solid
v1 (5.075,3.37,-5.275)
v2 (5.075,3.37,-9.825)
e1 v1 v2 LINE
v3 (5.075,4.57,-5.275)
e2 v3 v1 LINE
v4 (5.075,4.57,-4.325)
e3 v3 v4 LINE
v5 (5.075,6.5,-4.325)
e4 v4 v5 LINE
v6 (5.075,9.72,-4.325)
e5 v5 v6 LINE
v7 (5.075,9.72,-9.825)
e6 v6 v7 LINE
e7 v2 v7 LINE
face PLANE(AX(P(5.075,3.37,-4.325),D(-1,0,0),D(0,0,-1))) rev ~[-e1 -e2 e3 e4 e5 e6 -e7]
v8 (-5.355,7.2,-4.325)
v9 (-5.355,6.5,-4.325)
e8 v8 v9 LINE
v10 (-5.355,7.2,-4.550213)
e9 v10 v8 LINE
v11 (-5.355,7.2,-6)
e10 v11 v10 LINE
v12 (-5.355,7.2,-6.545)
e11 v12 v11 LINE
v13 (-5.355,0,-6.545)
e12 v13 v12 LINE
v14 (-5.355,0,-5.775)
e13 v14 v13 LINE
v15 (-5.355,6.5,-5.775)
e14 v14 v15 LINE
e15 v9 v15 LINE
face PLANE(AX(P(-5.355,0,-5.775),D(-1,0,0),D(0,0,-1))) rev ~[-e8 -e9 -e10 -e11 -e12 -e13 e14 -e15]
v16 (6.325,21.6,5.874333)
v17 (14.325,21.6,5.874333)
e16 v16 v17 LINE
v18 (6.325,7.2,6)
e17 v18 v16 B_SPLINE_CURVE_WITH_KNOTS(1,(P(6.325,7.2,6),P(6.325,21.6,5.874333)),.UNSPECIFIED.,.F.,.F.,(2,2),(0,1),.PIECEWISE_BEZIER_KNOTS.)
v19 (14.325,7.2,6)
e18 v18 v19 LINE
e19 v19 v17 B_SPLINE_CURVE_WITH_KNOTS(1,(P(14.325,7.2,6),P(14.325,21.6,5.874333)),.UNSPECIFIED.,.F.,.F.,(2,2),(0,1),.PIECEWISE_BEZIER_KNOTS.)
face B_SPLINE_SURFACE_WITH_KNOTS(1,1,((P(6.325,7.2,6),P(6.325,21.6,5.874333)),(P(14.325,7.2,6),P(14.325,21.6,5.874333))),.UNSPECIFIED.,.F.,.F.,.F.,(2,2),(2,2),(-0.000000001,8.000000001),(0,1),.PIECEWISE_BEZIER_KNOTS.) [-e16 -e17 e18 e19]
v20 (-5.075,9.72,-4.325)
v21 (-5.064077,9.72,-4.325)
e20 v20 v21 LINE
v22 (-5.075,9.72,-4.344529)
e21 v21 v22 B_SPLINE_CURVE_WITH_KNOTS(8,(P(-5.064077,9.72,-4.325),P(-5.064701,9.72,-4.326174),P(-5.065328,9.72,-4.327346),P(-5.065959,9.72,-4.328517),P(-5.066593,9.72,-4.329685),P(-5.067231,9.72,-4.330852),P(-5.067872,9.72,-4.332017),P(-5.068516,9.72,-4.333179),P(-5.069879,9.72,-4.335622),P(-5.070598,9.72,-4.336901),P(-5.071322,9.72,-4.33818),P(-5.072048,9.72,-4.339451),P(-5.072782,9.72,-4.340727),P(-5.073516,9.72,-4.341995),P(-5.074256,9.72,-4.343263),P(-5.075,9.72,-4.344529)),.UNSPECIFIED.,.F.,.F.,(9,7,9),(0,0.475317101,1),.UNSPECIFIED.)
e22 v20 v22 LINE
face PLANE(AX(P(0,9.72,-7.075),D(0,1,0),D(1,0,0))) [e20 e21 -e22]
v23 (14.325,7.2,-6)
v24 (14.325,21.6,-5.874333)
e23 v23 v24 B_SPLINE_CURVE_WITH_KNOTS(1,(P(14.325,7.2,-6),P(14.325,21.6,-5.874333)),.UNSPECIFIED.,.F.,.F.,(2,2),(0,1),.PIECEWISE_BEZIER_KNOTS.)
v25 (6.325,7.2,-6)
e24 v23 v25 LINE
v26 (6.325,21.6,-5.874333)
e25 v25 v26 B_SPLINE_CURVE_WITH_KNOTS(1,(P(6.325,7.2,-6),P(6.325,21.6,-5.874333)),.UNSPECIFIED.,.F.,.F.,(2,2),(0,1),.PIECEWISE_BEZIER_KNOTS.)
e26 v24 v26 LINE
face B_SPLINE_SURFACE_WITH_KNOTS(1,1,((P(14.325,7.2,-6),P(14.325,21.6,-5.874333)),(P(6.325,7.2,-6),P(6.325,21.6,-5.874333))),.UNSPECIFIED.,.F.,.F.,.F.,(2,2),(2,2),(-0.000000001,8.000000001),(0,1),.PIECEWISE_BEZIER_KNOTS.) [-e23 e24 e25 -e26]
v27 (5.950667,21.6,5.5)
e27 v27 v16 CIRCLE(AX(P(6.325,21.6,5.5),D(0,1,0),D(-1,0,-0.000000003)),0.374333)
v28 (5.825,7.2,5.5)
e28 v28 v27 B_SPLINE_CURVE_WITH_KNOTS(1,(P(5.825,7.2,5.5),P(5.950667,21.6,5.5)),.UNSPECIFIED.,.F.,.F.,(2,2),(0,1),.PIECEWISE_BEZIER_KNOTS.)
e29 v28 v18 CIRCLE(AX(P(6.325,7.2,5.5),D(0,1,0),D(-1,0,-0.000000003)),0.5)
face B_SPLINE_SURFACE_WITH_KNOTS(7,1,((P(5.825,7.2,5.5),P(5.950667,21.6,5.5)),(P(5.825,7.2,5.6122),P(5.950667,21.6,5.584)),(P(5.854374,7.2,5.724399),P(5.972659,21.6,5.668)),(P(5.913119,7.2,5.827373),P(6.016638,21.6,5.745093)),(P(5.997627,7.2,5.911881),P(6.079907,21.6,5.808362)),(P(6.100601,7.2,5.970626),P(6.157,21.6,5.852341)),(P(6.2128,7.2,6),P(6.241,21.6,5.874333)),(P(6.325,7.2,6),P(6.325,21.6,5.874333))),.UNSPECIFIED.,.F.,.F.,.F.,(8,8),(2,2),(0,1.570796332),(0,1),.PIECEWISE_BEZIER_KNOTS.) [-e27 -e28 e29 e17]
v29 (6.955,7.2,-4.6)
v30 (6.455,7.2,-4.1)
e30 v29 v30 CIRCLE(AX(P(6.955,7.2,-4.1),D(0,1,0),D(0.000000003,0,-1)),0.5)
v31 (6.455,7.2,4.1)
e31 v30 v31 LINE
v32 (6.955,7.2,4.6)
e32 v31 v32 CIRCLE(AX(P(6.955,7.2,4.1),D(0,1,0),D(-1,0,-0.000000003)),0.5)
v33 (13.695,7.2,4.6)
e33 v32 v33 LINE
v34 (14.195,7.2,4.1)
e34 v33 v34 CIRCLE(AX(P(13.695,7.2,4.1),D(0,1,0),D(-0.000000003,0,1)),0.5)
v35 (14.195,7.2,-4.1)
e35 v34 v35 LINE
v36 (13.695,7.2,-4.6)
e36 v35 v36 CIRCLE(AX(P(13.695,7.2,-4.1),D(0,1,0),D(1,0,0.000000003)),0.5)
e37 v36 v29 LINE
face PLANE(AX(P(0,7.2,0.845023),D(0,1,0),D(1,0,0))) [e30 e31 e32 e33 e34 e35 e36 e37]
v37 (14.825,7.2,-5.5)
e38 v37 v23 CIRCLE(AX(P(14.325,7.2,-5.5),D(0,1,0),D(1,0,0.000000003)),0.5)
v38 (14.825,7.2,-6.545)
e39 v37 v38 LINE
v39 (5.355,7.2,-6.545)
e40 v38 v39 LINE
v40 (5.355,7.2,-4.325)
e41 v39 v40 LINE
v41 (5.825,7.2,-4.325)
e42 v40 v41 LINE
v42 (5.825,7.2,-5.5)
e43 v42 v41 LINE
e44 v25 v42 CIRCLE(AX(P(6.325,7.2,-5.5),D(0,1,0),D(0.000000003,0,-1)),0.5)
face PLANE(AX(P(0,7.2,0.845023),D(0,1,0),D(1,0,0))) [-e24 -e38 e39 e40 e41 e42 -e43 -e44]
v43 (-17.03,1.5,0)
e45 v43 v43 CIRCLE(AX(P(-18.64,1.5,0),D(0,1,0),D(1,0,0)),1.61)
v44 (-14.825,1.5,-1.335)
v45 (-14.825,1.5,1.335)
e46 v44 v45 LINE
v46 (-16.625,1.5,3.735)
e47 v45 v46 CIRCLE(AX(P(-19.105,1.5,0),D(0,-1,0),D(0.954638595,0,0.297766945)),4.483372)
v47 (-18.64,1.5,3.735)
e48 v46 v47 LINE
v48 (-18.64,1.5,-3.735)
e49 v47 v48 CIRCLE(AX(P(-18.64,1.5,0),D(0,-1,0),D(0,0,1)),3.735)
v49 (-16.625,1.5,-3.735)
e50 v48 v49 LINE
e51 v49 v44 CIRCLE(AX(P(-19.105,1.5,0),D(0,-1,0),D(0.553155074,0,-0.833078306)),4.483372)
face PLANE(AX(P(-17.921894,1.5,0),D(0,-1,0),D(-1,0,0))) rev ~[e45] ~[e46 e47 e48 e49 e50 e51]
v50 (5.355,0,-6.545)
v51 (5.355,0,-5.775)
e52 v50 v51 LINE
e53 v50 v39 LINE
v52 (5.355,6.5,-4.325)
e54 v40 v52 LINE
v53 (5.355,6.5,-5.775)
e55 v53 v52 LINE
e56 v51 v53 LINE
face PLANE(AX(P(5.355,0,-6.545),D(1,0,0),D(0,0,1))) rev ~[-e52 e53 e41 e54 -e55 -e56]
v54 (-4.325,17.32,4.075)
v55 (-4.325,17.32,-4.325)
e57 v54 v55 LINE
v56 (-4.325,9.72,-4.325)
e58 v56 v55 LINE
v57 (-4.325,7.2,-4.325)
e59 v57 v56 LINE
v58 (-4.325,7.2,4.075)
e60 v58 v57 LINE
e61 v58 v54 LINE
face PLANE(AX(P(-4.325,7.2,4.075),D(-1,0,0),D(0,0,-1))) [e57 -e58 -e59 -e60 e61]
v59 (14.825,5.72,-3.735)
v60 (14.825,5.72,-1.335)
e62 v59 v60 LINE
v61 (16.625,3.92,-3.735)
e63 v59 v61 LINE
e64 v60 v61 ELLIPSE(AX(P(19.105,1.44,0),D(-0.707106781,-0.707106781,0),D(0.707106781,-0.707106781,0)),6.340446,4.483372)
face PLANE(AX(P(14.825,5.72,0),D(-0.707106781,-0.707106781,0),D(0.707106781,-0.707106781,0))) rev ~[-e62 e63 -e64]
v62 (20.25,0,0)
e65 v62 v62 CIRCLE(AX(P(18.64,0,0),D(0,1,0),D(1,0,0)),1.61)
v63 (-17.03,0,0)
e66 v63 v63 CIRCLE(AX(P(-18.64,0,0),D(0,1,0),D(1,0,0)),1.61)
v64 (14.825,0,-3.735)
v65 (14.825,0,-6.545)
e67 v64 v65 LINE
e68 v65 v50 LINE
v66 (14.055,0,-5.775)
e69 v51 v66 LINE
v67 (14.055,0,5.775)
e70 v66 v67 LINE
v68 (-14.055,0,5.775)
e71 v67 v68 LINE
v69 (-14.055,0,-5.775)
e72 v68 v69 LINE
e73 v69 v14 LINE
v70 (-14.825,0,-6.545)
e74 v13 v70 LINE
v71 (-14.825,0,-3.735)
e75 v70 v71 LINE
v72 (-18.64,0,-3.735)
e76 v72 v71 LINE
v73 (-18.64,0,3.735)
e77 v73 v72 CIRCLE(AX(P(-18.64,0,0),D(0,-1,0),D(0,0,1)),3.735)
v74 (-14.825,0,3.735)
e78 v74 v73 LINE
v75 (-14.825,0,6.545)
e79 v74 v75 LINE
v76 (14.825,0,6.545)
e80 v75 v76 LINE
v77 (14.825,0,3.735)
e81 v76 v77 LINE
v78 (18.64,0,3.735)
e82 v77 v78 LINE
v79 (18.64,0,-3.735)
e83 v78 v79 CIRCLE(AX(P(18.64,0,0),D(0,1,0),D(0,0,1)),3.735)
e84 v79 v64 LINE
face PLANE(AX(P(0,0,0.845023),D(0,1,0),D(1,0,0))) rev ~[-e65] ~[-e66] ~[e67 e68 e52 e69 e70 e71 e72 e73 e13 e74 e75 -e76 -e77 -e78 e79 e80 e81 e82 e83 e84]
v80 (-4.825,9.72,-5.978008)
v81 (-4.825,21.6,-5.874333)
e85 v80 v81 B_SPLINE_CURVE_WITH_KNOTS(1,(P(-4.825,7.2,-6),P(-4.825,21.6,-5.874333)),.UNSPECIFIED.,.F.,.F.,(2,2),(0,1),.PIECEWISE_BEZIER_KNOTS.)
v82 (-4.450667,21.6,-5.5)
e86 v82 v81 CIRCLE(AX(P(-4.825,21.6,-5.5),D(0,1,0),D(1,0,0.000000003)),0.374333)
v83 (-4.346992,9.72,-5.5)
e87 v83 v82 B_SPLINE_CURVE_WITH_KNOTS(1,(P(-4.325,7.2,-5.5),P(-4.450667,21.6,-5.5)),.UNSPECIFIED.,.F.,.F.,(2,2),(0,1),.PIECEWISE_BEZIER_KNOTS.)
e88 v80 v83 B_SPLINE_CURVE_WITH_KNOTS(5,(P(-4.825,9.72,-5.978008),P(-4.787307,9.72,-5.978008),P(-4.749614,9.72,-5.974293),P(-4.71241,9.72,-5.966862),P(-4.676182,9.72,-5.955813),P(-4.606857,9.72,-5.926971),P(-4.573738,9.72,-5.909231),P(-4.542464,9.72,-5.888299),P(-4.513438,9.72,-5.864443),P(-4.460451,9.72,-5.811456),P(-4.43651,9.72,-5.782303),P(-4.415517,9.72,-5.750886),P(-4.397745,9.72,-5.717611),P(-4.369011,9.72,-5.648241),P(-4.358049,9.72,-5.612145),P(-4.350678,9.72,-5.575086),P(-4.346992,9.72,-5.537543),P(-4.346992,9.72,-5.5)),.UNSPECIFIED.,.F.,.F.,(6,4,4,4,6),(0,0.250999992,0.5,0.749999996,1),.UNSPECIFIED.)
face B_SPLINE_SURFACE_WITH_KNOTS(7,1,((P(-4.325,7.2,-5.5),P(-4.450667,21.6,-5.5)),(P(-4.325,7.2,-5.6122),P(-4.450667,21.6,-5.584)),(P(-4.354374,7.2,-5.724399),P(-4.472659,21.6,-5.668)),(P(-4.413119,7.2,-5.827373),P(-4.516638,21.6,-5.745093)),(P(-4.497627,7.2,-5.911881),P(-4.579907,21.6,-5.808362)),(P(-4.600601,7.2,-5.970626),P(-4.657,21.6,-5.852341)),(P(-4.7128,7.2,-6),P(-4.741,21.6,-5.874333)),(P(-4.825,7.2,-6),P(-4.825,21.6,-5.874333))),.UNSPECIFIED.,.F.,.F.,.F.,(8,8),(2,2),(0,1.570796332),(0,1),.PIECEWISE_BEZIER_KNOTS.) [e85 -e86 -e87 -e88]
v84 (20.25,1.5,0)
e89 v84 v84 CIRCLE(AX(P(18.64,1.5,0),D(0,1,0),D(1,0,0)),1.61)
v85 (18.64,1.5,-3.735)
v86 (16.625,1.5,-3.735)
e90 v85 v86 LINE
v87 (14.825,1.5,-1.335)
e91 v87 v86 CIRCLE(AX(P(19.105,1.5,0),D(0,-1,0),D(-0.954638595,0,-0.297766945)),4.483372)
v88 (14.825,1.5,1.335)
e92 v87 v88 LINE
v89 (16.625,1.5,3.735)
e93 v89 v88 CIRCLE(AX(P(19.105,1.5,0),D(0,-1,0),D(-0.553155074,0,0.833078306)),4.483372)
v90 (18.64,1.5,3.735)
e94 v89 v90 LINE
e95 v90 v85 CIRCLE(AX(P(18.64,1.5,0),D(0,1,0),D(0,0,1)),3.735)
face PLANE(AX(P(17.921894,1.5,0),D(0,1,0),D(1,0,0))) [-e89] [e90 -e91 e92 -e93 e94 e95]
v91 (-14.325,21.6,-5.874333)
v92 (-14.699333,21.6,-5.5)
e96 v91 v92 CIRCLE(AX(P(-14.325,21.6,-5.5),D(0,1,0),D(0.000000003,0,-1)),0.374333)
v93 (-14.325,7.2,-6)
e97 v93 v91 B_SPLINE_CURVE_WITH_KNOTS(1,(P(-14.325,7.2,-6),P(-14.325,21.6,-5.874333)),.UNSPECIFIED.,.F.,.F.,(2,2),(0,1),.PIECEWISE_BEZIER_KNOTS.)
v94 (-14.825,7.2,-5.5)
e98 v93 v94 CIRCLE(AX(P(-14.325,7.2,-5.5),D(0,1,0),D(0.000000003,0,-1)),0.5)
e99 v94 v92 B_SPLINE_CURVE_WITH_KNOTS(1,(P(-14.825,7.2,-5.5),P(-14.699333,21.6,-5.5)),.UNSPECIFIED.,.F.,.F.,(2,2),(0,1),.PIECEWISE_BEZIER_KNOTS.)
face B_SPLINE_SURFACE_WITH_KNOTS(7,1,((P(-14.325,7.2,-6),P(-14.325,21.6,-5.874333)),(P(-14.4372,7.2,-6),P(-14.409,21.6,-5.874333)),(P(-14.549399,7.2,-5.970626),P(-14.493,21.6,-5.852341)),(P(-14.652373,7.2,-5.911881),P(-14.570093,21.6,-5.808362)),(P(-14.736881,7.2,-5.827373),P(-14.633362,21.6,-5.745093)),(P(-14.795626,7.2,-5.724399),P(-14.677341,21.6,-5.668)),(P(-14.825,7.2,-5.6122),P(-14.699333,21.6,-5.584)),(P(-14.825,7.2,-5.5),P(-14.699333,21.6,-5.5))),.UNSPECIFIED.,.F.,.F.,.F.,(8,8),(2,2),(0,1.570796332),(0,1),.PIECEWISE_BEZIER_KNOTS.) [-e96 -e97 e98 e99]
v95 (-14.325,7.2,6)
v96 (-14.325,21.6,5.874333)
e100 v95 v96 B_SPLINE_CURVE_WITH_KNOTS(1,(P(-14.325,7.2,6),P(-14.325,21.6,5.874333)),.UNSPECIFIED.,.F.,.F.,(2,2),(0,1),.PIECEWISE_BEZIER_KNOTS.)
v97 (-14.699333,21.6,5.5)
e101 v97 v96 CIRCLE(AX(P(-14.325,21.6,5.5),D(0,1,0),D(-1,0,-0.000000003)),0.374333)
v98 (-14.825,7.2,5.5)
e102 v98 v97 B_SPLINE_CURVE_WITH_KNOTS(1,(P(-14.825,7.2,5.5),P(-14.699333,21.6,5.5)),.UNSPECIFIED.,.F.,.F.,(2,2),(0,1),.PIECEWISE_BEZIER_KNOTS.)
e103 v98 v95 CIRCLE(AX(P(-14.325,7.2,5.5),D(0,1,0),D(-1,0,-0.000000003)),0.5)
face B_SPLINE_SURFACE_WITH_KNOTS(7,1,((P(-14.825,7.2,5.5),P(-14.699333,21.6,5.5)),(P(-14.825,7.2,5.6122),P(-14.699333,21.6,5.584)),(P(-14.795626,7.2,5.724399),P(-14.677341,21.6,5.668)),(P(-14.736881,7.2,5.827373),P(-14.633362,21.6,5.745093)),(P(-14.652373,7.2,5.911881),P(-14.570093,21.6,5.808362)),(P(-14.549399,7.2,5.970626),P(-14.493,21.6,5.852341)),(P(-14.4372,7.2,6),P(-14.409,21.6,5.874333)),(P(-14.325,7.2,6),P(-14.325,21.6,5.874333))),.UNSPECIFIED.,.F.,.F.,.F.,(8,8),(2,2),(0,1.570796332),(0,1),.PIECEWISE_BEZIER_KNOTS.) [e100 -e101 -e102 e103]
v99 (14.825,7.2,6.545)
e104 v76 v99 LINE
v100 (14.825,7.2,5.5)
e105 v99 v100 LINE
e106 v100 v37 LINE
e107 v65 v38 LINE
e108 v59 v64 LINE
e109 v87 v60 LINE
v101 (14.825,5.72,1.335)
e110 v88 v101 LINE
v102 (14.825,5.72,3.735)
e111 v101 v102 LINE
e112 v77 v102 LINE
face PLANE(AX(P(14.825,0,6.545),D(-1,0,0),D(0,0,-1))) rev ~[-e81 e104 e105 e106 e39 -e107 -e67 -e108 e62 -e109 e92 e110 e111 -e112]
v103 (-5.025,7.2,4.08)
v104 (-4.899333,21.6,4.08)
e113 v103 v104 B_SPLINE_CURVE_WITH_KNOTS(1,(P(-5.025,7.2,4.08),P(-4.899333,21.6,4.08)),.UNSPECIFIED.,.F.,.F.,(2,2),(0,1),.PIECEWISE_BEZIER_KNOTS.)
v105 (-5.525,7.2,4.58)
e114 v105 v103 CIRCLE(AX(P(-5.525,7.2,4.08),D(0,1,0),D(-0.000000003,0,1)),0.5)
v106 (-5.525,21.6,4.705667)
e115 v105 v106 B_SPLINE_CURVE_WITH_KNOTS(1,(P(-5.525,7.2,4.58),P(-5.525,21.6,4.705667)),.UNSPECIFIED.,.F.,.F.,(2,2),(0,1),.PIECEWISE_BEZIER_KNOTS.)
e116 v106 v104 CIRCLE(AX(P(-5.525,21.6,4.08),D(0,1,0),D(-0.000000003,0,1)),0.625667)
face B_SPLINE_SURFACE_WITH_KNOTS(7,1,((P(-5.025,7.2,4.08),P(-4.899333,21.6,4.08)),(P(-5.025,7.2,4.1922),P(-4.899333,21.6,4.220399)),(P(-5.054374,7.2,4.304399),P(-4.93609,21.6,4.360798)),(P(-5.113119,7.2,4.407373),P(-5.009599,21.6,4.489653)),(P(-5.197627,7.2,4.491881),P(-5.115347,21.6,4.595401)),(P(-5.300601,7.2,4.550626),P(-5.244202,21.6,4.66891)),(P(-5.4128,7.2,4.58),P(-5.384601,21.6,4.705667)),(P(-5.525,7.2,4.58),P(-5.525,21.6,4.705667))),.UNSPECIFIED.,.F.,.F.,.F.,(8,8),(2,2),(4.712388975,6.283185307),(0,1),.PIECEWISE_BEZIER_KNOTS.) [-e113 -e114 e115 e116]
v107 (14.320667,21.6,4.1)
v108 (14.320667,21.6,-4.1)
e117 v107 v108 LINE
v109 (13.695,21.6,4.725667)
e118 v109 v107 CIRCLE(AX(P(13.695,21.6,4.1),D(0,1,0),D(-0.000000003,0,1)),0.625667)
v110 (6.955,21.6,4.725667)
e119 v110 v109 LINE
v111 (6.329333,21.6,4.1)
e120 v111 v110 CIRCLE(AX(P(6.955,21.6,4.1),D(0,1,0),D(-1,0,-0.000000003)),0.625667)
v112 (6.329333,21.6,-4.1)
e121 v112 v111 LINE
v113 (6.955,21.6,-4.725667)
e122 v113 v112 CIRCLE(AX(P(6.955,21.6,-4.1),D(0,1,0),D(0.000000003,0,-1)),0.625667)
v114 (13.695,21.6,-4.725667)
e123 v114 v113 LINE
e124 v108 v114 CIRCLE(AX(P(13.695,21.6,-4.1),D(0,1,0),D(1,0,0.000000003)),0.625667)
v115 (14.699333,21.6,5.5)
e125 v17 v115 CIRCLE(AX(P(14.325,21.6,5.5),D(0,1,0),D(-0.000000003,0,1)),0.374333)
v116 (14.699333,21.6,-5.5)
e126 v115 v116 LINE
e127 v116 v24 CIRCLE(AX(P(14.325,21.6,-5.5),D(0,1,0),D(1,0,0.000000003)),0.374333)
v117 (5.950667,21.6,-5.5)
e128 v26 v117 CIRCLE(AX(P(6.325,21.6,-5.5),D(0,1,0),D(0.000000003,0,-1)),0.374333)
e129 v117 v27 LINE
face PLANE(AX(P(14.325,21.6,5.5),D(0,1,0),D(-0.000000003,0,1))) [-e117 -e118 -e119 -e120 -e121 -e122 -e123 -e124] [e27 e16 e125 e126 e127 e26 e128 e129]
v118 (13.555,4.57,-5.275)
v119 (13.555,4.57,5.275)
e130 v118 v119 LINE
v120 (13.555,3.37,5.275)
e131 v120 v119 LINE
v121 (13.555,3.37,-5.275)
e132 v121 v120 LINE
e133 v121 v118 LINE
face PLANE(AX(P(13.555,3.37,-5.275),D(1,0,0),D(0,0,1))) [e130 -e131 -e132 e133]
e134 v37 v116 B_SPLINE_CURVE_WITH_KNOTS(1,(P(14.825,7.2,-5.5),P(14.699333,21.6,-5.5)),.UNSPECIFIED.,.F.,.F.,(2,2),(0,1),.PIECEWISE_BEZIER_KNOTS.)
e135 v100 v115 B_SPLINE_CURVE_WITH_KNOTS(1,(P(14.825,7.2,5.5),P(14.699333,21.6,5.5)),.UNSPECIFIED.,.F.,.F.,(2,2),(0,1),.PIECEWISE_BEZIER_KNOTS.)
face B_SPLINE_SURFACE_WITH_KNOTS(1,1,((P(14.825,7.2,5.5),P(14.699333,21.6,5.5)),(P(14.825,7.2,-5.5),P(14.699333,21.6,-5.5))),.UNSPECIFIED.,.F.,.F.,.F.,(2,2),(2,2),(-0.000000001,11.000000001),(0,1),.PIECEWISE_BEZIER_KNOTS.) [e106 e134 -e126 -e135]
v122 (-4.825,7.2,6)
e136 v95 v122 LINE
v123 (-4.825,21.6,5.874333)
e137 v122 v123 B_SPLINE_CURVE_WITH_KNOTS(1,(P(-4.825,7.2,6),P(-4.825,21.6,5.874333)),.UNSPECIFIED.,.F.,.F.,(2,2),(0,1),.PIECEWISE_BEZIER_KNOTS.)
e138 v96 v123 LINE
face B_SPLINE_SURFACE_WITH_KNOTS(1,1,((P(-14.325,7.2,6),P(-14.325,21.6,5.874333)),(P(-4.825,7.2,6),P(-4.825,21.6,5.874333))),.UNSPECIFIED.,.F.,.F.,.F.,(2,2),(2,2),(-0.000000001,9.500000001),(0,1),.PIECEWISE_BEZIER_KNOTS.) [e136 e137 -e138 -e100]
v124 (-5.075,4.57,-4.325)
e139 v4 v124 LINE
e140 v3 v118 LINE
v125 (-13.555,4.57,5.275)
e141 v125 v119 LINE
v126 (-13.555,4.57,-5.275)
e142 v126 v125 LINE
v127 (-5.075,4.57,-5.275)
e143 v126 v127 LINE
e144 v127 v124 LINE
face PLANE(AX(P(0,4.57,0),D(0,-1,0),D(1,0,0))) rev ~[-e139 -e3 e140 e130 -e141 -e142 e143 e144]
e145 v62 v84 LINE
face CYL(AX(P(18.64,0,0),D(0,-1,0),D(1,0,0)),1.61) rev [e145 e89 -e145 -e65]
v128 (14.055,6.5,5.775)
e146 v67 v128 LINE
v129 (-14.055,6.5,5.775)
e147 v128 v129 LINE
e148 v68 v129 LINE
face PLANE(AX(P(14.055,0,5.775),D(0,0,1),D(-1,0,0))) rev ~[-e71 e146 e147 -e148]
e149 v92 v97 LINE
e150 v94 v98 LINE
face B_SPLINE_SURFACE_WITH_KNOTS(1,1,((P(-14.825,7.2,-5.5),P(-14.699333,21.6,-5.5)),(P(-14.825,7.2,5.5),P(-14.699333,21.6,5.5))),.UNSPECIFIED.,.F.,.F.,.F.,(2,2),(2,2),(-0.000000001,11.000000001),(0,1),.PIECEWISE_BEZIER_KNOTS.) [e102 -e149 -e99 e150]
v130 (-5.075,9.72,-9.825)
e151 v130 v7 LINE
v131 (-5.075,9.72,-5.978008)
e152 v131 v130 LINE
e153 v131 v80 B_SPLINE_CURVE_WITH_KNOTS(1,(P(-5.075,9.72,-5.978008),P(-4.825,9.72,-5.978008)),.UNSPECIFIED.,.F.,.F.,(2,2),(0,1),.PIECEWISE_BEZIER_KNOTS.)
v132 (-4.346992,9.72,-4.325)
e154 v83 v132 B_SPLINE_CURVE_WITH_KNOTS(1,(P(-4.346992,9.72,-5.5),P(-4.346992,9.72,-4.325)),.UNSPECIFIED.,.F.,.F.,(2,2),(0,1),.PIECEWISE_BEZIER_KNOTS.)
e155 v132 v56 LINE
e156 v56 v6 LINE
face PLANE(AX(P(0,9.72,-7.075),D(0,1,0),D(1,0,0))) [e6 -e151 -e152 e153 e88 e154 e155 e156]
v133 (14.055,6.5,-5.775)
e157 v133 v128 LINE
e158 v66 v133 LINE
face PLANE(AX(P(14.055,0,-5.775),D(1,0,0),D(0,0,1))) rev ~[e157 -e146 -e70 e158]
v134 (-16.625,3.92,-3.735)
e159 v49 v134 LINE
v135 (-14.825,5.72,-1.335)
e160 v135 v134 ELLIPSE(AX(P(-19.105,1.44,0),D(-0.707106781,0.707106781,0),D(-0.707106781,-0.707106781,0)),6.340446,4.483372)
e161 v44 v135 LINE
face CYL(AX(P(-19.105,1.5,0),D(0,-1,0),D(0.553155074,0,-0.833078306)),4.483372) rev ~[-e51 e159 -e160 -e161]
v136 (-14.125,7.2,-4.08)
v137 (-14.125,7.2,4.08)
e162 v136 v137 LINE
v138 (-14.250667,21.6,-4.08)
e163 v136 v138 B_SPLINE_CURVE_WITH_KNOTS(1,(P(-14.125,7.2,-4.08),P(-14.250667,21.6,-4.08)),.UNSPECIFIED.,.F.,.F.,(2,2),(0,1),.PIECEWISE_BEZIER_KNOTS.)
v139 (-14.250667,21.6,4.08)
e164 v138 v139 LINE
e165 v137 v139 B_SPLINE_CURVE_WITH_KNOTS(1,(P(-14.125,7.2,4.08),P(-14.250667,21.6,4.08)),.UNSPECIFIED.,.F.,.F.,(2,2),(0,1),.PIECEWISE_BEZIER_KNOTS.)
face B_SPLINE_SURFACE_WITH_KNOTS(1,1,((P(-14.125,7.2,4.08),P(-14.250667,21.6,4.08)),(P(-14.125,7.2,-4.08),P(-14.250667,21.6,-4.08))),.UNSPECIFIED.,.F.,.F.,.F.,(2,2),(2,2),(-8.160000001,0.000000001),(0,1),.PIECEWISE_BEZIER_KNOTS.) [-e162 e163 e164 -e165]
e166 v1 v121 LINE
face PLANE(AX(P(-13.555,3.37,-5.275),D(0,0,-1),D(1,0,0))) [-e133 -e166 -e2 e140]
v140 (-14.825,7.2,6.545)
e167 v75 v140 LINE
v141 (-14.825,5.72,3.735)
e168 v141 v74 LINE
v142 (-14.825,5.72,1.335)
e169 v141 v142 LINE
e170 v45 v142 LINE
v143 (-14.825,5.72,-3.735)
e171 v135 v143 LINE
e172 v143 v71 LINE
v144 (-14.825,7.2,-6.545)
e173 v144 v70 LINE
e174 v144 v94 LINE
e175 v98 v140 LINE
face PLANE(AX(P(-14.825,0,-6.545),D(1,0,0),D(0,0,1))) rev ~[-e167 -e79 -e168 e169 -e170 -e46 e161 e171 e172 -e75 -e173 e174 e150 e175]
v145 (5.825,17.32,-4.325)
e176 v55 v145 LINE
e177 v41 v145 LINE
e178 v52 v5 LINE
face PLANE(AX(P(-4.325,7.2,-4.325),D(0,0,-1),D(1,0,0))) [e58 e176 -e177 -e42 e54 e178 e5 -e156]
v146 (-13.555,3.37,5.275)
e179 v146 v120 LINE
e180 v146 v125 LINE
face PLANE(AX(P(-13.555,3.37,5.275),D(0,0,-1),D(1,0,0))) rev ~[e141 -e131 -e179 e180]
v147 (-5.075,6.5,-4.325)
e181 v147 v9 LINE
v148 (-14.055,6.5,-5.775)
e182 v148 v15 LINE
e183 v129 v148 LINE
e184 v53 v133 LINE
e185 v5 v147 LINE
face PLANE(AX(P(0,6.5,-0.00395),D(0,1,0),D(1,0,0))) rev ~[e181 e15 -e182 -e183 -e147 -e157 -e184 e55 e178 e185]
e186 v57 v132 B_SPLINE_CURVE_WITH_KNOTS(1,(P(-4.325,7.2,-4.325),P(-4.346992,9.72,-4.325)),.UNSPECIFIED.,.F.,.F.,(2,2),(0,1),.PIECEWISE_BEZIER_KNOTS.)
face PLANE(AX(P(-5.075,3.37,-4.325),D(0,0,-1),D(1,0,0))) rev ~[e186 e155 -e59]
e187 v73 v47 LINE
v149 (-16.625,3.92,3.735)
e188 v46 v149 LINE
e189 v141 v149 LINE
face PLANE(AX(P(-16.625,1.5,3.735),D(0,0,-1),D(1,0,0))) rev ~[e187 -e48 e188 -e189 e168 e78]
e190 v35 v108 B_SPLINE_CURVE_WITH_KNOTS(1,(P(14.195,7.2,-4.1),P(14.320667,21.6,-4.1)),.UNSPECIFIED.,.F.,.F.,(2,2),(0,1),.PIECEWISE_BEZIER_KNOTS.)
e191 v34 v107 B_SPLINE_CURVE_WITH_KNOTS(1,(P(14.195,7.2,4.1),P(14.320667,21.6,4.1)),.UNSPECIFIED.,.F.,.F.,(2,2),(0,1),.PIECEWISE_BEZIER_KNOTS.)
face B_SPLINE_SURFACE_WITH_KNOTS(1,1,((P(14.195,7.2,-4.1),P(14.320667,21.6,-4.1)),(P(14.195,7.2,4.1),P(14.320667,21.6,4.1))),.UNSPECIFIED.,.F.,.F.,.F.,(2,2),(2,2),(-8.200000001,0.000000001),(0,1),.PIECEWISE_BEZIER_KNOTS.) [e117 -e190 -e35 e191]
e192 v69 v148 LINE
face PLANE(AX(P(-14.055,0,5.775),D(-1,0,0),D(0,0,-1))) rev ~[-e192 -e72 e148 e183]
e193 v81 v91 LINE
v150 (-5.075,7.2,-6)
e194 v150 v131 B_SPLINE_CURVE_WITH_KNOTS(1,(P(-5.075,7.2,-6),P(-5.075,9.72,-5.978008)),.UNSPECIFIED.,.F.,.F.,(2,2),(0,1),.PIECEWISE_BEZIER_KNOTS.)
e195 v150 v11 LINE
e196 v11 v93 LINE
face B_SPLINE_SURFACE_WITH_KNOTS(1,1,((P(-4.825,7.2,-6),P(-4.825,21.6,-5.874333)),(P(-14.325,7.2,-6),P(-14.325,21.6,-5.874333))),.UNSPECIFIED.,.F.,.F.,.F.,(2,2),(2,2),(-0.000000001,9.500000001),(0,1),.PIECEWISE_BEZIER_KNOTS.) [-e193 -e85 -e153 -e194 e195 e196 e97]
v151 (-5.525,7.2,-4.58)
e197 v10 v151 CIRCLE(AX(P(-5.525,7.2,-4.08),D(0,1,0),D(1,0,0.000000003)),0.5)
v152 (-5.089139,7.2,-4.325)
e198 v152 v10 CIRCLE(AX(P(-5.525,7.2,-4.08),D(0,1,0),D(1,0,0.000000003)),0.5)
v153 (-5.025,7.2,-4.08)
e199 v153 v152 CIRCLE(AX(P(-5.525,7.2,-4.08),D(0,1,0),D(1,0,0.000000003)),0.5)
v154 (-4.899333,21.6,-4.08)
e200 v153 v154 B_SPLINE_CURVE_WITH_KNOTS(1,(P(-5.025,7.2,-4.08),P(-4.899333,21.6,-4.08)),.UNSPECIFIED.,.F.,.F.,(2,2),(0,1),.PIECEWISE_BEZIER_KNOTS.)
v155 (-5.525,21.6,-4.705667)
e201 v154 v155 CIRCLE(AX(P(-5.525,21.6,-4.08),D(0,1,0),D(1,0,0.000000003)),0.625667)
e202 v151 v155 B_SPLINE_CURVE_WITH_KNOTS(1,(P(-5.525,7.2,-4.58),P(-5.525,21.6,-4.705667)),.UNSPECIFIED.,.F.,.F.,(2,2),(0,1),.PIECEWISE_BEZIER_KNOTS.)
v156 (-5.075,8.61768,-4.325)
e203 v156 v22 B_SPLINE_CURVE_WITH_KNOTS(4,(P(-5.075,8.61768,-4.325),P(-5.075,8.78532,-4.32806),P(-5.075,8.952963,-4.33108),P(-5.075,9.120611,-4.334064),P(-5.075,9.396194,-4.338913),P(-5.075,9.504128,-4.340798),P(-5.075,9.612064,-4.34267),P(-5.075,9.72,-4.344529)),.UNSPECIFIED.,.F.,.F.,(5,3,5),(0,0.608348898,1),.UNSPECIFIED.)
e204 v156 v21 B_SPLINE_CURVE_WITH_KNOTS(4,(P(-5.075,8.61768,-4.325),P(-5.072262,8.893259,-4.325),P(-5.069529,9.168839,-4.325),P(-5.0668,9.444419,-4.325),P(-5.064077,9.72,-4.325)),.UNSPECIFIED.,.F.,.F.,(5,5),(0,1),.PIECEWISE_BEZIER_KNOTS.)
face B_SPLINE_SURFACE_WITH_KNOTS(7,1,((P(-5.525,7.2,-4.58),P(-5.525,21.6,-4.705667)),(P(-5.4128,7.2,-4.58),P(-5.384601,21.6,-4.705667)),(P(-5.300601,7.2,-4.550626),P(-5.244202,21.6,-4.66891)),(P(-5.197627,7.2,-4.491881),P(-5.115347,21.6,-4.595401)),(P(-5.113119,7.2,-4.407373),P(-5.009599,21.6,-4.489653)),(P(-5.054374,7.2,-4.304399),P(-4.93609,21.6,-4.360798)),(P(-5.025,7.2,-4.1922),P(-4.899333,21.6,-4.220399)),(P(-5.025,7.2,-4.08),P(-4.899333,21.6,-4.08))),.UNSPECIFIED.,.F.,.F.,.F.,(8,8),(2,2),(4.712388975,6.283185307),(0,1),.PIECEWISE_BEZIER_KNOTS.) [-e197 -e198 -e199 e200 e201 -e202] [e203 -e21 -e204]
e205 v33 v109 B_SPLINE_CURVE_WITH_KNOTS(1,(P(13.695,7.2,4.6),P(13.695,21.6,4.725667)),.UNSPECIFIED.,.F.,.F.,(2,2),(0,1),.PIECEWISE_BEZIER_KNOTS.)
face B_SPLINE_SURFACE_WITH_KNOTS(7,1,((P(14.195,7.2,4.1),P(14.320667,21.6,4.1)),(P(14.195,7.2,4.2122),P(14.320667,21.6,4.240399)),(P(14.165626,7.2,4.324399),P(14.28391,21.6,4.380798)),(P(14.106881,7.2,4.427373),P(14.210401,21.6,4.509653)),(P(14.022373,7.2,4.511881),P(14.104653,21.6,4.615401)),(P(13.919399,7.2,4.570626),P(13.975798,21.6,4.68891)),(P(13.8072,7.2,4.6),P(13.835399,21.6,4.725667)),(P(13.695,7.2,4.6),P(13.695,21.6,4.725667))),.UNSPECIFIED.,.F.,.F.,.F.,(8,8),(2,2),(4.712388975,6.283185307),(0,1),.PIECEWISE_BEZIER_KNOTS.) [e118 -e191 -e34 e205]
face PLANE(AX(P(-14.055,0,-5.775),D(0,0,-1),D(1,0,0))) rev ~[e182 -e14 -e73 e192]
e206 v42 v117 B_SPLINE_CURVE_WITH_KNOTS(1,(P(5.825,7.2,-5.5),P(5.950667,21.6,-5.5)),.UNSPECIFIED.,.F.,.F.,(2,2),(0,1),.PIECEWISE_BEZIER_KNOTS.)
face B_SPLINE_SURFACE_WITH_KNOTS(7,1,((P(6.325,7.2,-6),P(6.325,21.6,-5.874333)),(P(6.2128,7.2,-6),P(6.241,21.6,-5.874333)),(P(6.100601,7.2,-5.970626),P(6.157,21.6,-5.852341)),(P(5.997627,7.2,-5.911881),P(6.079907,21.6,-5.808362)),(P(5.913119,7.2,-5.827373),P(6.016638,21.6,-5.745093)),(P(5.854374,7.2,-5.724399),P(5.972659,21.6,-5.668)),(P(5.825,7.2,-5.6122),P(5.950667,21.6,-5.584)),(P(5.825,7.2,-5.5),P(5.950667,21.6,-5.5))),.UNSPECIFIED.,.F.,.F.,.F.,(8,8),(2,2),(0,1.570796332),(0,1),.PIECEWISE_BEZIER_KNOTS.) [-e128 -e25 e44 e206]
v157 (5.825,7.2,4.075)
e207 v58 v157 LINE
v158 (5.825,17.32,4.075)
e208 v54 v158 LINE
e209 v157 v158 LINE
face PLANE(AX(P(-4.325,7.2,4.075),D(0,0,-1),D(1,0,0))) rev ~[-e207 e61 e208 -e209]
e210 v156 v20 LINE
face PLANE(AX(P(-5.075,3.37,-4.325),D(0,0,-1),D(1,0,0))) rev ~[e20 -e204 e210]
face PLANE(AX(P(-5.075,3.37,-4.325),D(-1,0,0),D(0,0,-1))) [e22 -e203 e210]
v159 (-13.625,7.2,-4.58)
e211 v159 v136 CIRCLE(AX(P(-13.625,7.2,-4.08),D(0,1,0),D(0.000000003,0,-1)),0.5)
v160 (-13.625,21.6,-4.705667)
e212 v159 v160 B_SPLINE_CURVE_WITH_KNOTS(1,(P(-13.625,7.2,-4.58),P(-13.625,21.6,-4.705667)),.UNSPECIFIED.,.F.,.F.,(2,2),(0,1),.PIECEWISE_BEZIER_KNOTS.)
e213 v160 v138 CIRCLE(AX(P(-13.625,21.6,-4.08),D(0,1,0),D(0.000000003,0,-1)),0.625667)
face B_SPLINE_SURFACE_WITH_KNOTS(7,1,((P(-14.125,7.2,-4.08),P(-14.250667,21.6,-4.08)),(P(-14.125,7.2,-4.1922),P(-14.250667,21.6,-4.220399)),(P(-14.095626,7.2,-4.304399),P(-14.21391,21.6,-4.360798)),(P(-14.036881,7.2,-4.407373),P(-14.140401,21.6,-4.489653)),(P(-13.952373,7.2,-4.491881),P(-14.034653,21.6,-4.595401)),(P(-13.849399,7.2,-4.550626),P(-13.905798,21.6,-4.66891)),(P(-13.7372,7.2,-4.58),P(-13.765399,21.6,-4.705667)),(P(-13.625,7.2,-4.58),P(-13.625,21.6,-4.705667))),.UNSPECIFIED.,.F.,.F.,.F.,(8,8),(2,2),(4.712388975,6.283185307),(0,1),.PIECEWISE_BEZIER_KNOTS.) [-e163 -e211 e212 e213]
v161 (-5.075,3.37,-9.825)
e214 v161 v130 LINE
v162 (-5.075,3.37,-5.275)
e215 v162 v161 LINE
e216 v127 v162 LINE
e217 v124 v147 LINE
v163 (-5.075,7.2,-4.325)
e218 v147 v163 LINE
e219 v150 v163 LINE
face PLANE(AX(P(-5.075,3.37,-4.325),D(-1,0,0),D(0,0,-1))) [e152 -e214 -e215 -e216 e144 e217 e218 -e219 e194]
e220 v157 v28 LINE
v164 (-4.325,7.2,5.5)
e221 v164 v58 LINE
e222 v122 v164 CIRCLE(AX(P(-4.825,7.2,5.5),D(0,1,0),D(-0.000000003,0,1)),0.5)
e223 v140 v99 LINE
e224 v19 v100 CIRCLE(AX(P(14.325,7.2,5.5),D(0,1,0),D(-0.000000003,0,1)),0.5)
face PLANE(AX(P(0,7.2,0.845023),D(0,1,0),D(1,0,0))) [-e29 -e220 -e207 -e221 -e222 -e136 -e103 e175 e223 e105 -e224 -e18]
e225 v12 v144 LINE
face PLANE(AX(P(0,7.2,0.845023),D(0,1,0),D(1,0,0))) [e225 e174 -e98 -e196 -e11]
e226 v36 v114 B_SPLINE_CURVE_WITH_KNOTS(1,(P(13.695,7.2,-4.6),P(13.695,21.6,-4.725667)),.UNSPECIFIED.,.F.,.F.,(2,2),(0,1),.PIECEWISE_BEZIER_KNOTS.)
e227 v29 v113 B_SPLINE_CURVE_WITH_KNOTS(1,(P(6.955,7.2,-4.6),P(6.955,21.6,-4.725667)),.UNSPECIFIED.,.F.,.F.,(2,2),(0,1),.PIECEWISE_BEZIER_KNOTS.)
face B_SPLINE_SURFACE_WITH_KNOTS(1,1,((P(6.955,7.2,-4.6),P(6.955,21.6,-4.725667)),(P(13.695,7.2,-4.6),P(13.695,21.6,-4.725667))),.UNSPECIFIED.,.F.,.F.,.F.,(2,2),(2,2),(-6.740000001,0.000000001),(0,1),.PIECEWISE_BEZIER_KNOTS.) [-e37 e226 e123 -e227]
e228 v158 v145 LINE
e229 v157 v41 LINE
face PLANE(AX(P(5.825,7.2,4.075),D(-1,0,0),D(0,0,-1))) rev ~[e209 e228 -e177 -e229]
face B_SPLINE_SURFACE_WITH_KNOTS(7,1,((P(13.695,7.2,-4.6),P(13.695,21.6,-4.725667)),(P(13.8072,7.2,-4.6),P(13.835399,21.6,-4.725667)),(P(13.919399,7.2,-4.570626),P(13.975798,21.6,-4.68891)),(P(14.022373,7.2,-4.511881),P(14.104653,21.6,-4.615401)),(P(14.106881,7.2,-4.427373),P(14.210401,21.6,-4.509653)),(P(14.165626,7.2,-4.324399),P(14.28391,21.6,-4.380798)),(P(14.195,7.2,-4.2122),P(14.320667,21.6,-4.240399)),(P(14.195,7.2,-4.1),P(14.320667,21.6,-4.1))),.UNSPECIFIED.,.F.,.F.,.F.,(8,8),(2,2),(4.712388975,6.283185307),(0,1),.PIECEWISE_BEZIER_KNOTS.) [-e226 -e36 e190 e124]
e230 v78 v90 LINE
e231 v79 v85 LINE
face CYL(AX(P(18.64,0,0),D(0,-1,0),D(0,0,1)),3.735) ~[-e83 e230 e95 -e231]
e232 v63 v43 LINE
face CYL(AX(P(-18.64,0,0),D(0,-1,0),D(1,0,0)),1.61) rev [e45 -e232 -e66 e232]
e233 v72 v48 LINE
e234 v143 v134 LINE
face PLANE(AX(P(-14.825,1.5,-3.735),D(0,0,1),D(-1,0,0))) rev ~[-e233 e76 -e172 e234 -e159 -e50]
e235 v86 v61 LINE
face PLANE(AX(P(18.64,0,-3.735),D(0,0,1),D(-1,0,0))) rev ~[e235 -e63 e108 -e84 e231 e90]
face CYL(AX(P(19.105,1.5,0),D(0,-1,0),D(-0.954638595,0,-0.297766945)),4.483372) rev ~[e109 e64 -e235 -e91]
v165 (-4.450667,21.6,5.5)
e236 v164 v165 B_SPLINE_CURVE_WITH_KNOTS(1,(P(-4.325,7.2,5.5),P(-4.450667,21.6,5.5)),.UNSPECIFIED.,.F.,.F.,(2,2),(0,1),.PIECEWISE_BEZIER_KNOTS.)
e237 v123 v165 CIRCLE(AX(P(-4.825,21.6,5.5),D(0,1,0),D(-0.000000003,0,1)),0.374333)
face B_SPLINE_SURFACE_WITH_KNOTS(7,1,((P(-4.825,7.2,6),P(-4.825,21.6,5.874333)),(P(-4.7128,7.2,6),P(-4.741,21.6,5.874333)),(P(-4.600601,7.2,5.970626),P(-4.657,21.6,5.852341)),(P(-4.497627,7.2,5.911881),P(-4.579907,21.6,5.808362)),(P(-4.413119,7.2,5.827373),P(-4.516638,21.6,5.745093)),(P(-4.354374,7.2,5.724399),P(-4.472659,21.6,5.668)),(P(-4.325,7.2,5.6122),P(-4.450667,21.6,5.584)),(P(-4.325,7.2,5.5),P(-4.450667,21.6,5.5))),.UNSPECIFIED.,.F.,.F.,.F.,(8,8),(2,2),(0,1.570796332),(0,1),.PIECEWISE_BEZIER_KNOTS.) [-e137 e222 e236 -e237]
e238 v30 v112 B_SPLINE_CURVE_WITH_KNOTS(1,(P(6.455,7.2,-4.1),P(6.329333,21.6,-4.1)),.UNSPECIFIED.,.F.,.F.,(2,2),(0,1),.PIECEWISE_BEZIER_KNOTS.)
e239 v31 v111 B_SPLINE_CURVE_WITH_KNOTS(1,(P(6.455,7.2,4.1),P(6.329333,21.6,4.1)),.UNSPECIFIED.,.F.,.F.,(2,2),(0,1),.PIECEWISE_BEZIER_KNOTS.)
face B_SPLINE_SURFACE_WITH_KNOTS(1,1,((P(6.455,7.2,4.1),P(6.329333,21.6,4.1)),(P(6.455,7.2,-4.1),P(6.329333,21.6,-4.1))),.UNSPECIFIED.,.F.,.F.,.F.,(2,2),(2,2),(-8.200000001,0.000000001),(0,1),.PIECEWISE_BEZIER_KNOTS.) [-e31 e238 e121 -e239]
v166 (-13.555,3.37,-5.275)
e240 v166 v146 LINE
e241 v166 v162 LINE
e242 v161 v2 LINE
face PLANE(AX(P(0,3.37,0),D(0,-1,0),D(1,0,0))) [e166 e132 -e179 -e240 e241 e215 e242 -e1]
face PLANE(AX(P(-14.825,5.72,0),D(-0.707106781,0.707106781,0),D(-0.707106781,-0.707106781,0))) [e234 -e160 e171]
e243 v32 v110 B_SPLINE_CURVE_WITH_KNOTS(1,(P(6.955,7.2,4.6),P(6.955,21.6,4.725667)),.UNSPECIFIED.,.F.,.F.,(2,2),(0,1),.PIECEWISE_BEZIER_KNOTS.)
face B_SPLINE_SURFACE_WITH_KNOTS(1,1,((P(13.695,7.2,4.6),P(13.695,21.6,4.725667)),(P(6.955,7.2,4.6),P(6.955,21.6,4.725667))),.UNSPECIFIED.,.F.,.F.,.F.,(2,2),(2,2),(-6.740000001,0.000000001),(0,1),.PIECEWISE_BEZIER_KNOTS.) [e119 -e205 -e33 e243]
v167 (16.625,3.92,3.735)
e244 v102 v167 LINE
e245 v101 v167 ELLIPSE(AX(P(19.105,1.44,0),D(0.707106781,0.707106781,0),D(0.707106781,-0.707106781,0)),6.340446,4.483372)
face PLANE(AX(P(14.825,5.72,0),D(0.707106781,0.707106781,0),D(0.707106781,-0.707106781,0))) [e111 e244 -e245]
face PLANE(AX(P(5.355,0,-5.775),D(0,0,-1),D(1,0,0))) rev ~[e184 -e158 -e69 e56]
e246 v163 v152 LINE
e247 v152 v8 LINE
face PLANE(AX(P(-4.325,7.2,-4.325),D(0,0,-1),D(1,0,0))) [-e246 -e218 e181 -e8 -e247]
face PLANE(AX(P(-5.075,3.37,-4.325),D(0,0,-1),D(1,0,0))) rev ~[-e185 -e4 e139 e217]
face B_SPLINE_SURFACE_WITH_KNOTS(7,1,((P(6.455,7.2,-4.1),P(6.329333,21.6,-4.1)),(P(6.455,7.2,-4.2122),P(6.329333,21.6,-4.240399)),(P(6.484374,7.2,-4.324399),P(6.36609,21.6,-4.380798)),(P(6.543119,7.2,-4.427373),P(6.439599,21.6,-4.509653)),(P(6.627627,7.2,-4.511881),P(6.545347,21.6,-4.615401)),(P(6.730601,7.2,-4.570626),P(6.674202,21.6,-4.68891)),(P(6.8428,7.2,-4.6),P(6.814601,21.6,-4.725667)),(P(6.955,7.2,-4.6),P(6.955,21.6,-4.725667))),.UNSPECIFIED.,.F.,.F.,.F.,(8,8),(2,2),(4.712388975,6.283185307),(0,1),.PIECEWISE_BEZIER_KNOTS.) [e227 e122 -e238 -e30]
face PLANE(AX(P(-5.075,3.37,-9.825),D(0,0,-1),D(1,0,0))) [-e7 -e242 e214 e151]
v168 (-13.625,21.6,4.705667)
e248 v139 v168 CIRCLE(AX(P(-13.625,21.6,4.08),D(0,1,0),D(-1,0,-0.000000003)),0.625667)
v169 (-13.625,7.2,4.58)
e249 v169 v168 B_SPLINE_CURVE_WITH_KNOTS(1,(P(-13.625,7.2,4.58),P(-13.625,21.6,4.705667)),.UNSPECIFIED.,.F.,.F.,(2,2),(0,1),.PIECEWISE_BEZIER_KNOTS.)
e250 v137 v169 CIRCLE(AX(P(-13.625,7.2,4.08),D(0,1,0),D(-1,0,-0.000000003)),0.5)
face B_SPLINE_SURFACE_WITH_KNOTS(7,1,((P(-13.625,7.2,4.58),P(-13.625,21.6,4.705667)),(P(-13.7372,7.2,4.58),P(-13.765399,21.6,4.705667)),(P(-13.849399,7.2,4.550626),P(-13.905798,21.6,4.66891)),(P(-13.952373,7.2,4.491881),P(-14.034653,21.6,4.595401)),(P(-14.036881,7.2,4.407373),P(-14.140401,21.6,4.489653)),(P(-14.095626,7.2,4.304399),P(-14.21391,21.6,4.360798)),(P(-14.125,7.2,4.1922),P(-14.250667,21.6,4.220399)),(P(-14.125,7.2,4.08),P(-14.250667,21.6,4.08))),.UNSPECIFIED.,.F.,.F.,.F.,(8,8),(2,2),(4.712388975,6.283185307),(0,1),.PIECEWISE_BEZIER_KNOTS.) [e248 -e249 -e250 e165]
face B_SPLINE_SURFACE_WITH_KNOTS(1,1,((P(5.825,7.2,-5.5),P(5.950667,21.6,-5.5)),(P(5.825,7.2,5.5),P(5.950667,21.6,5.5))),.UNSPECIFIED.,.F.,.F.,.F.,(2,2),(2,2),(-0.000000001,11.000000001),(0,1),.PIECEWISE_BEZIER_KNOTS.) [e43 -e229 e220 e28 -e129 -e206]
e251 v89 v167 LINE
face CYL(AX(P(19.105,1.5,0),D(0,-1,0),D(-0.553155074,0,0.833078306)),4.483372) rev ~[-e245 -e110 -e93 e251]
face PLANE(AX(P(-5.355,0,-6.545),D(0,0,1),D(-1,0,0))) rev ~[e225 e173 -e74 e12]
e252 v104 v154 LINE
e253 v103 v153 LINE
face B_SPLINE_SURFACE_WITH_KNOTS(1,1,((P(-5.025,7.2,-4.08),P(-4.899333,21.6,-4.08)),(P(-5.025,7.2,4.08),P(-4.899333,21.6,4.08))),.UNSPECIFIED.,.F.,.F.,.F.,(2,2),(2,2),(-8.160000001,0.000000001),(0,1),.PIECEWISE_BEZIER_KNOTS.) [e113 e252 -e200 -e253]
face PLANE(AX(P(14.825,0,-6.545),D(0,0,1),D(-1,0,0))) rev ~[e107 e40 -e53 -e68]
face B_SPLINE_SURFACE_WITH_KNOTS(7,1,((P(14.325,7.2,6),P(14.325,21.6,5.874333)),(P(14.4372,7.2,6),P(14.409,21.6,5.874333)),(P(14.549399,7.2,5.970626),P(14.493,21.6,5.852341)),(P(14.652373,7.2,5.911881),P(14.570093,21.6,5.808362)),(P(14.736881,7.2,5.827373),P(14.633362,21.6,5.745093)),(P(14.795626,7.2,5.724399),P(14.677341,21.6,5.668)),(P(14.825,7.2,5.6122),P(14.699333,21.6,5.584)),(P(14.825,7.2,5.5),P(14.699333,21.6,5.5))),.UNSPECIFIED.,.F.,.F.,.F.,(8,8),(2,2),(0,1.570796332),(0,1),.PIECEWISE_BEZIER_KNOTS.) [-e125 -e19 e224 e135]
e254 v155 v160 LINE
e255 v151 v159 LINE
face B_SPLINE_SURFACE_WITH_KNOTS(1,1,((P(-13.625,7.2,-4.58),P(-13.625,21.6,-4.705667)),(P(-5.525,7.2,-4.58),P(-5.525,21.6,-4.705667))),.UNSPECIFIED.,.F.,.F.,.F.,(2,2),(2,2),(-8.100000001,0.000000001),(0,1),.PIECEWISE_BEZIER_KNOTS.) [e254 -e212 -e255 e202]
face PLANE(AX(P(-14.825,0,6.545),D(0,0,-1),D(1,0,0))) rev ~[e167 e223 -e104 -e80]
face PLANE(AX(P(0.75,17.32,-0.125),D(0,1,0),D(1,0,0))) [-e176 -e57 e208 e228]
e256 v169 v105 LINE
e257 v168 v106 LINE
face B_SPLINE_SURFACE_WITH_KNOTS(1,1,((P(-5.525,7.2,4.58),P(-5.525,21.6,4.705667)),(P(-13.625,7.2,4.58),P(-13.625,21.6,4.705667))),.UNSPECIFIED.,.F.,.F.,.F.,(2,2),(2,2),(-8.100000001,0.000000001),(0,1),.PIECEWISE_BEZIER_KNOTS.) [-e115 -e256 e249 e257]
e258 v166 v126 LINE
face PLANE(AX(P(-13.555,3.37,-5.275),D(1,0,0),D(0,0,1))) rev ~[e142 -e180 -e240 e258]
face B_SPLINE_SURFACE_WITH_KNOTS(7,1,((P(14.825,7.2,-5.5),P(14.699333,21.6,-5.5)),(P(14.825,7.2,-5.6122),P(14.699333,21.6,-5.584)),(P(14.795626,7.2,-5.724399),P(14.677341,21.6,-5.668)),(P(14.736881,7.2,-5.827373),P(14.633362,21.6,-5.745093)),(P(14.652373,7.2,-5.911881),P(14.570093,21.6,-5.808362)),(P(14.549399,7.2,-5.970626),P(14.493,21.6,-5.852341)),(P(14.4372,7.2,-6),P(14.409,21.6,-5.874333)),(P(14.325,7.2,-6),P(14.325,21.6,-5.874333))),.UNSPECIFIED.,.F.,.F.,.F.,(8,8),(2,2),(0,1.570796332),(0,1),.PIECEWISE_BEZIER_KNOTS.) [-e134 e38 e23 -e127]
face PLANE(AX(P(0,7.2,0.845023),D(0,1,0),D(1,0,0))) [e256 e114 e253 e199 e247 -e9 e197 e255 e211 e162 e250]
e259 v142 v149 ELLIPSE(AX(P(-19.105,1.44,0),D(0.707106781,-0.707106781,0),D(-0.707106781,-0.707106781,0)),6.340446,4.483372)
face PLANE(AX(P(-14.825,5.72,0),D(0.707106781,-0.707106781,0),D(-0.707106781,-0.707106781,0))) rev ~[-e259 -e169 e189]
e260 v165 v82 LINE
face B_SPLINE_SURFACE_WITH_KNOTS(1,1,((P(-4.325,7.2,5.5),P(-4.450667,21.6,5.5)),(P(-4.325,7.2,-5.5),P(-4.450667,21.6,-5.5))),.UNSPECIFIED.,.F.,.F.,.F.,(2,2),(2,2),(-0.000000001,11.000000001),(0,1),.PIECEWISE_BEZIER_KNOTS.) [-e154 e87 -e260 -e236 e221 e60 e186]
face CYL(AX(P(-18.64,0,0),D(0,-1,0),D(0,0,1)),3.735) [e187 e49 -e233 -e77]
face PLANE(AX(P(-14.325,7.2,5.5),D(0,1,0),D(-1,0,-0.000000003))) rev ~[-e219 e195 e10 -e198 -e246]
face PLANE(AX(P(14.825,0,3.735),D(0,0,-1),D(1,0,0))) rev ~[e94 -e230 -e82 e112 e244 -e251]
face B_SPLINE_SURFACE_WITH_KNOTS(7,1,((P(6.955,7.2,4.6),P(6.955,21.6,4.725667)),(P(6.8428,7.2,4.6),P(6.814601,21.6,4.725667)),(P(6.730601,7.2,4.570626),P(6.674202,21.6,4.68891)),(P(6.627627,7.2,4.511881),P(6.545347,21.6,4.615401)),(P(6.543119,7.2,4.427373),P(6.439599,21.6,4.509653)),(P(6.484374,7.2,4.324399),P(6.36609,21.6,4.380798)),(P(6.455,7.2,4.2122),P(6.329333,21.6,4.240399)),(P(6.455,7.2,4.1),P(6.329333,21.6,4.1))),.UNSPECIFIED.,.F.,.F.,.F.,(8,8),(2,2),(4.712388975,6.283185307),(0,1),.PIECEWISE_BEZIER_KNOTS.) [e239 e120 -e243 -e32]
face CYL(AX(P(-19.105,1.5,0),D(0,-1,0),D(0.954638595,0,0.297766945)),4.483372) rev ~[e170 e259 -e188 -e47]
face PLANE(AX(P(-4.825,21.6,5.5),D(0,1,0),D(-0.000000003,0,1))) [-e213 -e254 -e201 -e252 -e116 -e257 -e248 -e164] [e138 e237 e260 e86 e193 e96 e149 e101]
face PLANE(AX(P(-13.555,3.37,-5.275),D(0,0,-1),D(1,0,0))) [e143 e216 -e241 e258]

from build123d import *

# Parameters (mm, degrees)
BOSS_EXTRUDE1_DEPTH     = 7.2
SKETCH2_R               = 1.61
BOSS_EXTRUDE2_DEPTH     = 1.5
BOSS_EXTRUDE3_DEPTH     = 0.7
BOSS_EXTRUDE4_DEPTH     = 14.4
BOSS_EXTRUDE4_TAPER     = 0.5
SKETCH5_W               = 10.15
SKETCH5_H               = 8.4
BOSS_EXTRUDE5_DEPTH     = 10.12
SKETCH6_W               = 10.15
SKETCH6_H               = 5.5
BOSS_EXTRUDE6_DEPTH     = 6.35
BOSS_EXTRUDE7_DEPTH     = 4.22
CUT_EXTRUDE1_DEPTH      = 7.544999991
CUT_EXTRUDE1_DEPTH_BACK = 10.824999991
SKETCH9_W               = 27.11
SKETCH9_H               = 10.549999982
BOSS_EXTRUDE8_DEPTH     = 1.2


with BuildPart() as part:
    # Sketch1 → Boss-Extrude1 (new body)
    with BuildSketch(Plane(origin=(0, 0, 0), x_dir=(1, 0, 0), z_dir=(0, 1, 0))):
        Polygon((-14.055, 5.774999991), (-5.355, 5.774999991), (-5.355, 6.544999991), (-14.825, 6.544999991), (-14.825, -6.544999991), (14.825, -6.544999991), (14.825, 6.544999991), (5.355, 6.544999991), (5.355, 5.774999991), (14.055, 5.774999991), (14.055, -5.774999991), (-14.055, -5.774999991), align=None)
    extrude(amount=BOSS_EXTRUDE1_DEPTH)

    # Sketch2 → Boss-Extrude2 (add)
    with BuildSketch(Plane(origin=(0, 0, 0), x_dir=(1, 0, 0), z_dir=(0, 1, 0))):
        with BuildLine():
            Line((18.64, 3.735), (14.825, 3.735))
            Line((14.825, 3.735), (14.825, -3.735))
            Line((14.825, -3.735), (18.64, -3.735))
            ThreePointArc((18.64, -3.735), (22.375, 0), (18.64, 3.735))
        make_face()
        with Locations((18.64, 0)):
            Circle(SKETCH2_R, mode=Mode.SUBTRACT)
        with BuildLine():
            Line((-14.825, 3.735), (-14.825, -3.735))
            Line((-14.825, -3.735), (-18.64, -3.735))
            ThreePointArc((-18.64, -3.735), (-22.375, 0), (-18.64, 3.735))
            Line((-18.64, 3.735), (-14.825, 3.735))
        make_face()
        with Locations((-18.64, 0)):
            Circle(SKETCH2_R, mode=Mode.SUBTRACT)
    extrude(amount=BOSS_EXTRUDE2_DEPTH)

    # Sketch3 → Boss-Extrude3 (add)
    with BuildSketch(Plane(origin=(0, 7.2, 0), x_dir=(1, 0, 0), z_dir=(0, 1, 0))):
        Polygon((-14.825, -6.544999991), (14.825, -6.544999991), (14.825, 6.544999991), (5.355, 6.544999991), (5.355, 4.324999991), (-5.355, 4.324999991), (-5.355, 6.544999991), (-14.825, 6.544999991), align=None)
    extrude(amount=-BOSS_EXTRUDE3_DEPTH)

    # Sketch4 → Boss-Extrude4 (add)
    with BuildSketch(Plane(origin=(0, 7.2, 0), x_dir=(1, 0, 0), z_dir=(0, 1, 0))):
        with BuildLine():
            Line((-14.325, -6), (-4.825, -6))
            ThreePointArc((-4.825, -6), (-4.471446609, -5.853553391), (-4.325, -5.5))
            Line((-4.325, -5.5), (-4.325, 5.5))
            ThreePointArc((-4.325, 5.5), (-4.471446609, 5.853553391), (-4.825, 6))
            Line((-4.825, 6), (-14.325, 6))
            ThreePointArc((-14.325, 6), (-14.678553391, 5.853553391), (-14.825, 5.5))
            Line((-14.825, 5.5), (-14.825, -5.5))
            ThreePointArc((-14.825, -5.5), (-14.678553391, -5.853553391), (-14.325, -6))
        make_face()
        with BuildLine():
            Line((-13.625, -4.58), (-5.525, -4.58))
            ThreePointArc((-5.525, -4.58), (-5.171446609, -4.433553391), (-5.025, -4.08))
            Line((-5.025, -4.08), (-5.025, 4.08))
            ThreePointArc((-5.025, 4.08), (-5.171446609, 4.433553391), (-5.525, 4.58))
            Line((-5.525, 4.58), (-13.625, 4.58))
            ThreePointArc((-13.625, 4.58), (-13.978553391, 4.433553391), (-14.125, 4.08))
            Line((-14.125, 4.08), (-14.125, -4.08))
            ThreePointArc((-14.125, -4.08), (-13.978553391, -4.433553391), (-13.625, -4.58))
        make_face(mode=Mode.SUBTRACT)
        with BuildLine():
            Line((6.325, -6), (14.325, -6))
            ThreePointArc((14.325, -6), (14.678553391, -5.853553391), (14.825, -5.5))
            Line((14.825, -5.5), (14.825, 5.5))
            ThreePointArc((14.825, 5.5), (14.678553391, 5.853553391), (14.325, 6))
            Line((14.325, 6), (6.325, 6))
            ThreePointArc((6.325, 6), (5.971446609, 5.853553391), (5.825, 5.5))
            Line((5.825, 5.5), (5.825, -5.5))
            ThreePointArc((5.825, -5.5), (5.971446609, -5.853553391), (6.325, -6))
        make_face()
        with BuildLine():
            Line((6.955, -4.6), (13.695, -4.6))
            ThreePointArc((13.695, -4.6), (14.048553391, -4.453553391), (14.195, -4.1))
            Line((14.195, -4.1), (14.195, 4.1))
            ThreePointArc((14.195, 4.1), (14.048553391, 4.453553391), (13.695, 4.6))
            Line((13.695, 4.6), (6.955, 4.6))
            ThreePointArc((6.955, 4.6), (6.601446609, 4.453553391), (6.455, 4.1))
            Line((6.455, 4.1), (6.455, -4.1))
            ThreePointArc((6.455, -4.1), (6.601446609, -4.453553391), (6.955, -4.6))
        make_face(mode=Mode.SUBTRACT)
    extrude(amount=BOSS_EXTRUDE4_DEPTH, taper=BOSS_EXTRUDE4_TAPER)

    # Sketch5 → Boss-Extrude5 (add)
    with BuildSketch(Plane(origin=(0, 7.2, 0), x_dir=(1, 0, 0), z_dir=(0, 1, 0))):
        with Locations((0.75, 0.124999991)):
            Rectangle(SKETCH5_W, SKETCH5_H)
    extrude(amount=BOSS_EXTRUDE5_DEPTH)

    # Sketch6 → Boss-Extrude6 (add)
    with BuildSketch(Plane(origin=(0, 3.37, 0), x_dir=(1, 0, 0), z_dir=(0, 1, 0))):
        with Locations((0, 7.074999991)):
            Rectangle(SKETCH6_W, SKETCH6_H)
    extrude(amount=BOSS_EXTRUDE6_DEPTH)

    # Sketch7 → Boss-Extrude7 (add)
    with BuildSketch(Plane(origin=(0, 1.5, 0), x_dir=(1, 0, 0), z_dir=(0, 1, 0))):
        with BuildLine():
            Line((-14.825, 3.735), (-16.625, 3.735))
            ThreePointArc((-16.625, 3.735), (-15.518302355, 2.690023234), (-14.825, 1.335))
            Line((-14.825, 1.335), (-14.825, 3.735))
        make_face()
        with BuildLine():
            Line((-14.825, -3.735), (-14.825, -1.335))
            ThreePointArc((-14.825, -1.335), (-15.518302355, -2.690023234), (-16.625, -3.735))
            Line((-16.625, -3.735), (-14.825, -3.735))
        make_face()
        with BuildLine():
            Line((14.825, -3.735), (16.625, -3.735))
            ThreePointArc((16.625, -3.735), (15.518302355, -2.690023234), (14.825, -1.335))
            Line((14.825, -1.335), (14.825, -3.735))
        make_face()
        with BuildLine():
            Line((14.825, 3.735), (14.825, 1.335))
            ThreePointArc((14.825, 1.335), (15.518302355, 2.690023234), (16.625, 3.735))
            Line((16.625, 3.735), (14.825, 3.735))
        make_face()
    extrude(amount=BOSS_EXTRUDE7_DEPTH)

    # Sketch8 → Cut-Extrude1 (cut, two sides)
    with BuildSketch(Plane.XY) as cut_extrude1_sk:
        Polygon((-14.825, 5.72), (-16.625, 3.92), (-16.625, 5.72), align=None)
        Polygon((14.825, 5.72), (16.625, 3.92), (16.625, 5.72), align=None)
    extrude(amount=CUT_EXTRUDE1_DEPTH, mode=Mode.SUBTRACT)
    extrude(cut_extrude1_sk.sketch, amount=-CUT_EXTRUDE1_DEPTH_BACK, mode=Mode.SUBTRACT)

    # Sketch9 → Boss-Extrude8 (add)
    with BuildSketch(Plane.XZ.offset(-3.37)):
        Rectangle(SKETCH9_W, SKETCH9_H)
    extrude(amount=-BOSS_EXTRUDE8_DEPTH)


solid = part.part
